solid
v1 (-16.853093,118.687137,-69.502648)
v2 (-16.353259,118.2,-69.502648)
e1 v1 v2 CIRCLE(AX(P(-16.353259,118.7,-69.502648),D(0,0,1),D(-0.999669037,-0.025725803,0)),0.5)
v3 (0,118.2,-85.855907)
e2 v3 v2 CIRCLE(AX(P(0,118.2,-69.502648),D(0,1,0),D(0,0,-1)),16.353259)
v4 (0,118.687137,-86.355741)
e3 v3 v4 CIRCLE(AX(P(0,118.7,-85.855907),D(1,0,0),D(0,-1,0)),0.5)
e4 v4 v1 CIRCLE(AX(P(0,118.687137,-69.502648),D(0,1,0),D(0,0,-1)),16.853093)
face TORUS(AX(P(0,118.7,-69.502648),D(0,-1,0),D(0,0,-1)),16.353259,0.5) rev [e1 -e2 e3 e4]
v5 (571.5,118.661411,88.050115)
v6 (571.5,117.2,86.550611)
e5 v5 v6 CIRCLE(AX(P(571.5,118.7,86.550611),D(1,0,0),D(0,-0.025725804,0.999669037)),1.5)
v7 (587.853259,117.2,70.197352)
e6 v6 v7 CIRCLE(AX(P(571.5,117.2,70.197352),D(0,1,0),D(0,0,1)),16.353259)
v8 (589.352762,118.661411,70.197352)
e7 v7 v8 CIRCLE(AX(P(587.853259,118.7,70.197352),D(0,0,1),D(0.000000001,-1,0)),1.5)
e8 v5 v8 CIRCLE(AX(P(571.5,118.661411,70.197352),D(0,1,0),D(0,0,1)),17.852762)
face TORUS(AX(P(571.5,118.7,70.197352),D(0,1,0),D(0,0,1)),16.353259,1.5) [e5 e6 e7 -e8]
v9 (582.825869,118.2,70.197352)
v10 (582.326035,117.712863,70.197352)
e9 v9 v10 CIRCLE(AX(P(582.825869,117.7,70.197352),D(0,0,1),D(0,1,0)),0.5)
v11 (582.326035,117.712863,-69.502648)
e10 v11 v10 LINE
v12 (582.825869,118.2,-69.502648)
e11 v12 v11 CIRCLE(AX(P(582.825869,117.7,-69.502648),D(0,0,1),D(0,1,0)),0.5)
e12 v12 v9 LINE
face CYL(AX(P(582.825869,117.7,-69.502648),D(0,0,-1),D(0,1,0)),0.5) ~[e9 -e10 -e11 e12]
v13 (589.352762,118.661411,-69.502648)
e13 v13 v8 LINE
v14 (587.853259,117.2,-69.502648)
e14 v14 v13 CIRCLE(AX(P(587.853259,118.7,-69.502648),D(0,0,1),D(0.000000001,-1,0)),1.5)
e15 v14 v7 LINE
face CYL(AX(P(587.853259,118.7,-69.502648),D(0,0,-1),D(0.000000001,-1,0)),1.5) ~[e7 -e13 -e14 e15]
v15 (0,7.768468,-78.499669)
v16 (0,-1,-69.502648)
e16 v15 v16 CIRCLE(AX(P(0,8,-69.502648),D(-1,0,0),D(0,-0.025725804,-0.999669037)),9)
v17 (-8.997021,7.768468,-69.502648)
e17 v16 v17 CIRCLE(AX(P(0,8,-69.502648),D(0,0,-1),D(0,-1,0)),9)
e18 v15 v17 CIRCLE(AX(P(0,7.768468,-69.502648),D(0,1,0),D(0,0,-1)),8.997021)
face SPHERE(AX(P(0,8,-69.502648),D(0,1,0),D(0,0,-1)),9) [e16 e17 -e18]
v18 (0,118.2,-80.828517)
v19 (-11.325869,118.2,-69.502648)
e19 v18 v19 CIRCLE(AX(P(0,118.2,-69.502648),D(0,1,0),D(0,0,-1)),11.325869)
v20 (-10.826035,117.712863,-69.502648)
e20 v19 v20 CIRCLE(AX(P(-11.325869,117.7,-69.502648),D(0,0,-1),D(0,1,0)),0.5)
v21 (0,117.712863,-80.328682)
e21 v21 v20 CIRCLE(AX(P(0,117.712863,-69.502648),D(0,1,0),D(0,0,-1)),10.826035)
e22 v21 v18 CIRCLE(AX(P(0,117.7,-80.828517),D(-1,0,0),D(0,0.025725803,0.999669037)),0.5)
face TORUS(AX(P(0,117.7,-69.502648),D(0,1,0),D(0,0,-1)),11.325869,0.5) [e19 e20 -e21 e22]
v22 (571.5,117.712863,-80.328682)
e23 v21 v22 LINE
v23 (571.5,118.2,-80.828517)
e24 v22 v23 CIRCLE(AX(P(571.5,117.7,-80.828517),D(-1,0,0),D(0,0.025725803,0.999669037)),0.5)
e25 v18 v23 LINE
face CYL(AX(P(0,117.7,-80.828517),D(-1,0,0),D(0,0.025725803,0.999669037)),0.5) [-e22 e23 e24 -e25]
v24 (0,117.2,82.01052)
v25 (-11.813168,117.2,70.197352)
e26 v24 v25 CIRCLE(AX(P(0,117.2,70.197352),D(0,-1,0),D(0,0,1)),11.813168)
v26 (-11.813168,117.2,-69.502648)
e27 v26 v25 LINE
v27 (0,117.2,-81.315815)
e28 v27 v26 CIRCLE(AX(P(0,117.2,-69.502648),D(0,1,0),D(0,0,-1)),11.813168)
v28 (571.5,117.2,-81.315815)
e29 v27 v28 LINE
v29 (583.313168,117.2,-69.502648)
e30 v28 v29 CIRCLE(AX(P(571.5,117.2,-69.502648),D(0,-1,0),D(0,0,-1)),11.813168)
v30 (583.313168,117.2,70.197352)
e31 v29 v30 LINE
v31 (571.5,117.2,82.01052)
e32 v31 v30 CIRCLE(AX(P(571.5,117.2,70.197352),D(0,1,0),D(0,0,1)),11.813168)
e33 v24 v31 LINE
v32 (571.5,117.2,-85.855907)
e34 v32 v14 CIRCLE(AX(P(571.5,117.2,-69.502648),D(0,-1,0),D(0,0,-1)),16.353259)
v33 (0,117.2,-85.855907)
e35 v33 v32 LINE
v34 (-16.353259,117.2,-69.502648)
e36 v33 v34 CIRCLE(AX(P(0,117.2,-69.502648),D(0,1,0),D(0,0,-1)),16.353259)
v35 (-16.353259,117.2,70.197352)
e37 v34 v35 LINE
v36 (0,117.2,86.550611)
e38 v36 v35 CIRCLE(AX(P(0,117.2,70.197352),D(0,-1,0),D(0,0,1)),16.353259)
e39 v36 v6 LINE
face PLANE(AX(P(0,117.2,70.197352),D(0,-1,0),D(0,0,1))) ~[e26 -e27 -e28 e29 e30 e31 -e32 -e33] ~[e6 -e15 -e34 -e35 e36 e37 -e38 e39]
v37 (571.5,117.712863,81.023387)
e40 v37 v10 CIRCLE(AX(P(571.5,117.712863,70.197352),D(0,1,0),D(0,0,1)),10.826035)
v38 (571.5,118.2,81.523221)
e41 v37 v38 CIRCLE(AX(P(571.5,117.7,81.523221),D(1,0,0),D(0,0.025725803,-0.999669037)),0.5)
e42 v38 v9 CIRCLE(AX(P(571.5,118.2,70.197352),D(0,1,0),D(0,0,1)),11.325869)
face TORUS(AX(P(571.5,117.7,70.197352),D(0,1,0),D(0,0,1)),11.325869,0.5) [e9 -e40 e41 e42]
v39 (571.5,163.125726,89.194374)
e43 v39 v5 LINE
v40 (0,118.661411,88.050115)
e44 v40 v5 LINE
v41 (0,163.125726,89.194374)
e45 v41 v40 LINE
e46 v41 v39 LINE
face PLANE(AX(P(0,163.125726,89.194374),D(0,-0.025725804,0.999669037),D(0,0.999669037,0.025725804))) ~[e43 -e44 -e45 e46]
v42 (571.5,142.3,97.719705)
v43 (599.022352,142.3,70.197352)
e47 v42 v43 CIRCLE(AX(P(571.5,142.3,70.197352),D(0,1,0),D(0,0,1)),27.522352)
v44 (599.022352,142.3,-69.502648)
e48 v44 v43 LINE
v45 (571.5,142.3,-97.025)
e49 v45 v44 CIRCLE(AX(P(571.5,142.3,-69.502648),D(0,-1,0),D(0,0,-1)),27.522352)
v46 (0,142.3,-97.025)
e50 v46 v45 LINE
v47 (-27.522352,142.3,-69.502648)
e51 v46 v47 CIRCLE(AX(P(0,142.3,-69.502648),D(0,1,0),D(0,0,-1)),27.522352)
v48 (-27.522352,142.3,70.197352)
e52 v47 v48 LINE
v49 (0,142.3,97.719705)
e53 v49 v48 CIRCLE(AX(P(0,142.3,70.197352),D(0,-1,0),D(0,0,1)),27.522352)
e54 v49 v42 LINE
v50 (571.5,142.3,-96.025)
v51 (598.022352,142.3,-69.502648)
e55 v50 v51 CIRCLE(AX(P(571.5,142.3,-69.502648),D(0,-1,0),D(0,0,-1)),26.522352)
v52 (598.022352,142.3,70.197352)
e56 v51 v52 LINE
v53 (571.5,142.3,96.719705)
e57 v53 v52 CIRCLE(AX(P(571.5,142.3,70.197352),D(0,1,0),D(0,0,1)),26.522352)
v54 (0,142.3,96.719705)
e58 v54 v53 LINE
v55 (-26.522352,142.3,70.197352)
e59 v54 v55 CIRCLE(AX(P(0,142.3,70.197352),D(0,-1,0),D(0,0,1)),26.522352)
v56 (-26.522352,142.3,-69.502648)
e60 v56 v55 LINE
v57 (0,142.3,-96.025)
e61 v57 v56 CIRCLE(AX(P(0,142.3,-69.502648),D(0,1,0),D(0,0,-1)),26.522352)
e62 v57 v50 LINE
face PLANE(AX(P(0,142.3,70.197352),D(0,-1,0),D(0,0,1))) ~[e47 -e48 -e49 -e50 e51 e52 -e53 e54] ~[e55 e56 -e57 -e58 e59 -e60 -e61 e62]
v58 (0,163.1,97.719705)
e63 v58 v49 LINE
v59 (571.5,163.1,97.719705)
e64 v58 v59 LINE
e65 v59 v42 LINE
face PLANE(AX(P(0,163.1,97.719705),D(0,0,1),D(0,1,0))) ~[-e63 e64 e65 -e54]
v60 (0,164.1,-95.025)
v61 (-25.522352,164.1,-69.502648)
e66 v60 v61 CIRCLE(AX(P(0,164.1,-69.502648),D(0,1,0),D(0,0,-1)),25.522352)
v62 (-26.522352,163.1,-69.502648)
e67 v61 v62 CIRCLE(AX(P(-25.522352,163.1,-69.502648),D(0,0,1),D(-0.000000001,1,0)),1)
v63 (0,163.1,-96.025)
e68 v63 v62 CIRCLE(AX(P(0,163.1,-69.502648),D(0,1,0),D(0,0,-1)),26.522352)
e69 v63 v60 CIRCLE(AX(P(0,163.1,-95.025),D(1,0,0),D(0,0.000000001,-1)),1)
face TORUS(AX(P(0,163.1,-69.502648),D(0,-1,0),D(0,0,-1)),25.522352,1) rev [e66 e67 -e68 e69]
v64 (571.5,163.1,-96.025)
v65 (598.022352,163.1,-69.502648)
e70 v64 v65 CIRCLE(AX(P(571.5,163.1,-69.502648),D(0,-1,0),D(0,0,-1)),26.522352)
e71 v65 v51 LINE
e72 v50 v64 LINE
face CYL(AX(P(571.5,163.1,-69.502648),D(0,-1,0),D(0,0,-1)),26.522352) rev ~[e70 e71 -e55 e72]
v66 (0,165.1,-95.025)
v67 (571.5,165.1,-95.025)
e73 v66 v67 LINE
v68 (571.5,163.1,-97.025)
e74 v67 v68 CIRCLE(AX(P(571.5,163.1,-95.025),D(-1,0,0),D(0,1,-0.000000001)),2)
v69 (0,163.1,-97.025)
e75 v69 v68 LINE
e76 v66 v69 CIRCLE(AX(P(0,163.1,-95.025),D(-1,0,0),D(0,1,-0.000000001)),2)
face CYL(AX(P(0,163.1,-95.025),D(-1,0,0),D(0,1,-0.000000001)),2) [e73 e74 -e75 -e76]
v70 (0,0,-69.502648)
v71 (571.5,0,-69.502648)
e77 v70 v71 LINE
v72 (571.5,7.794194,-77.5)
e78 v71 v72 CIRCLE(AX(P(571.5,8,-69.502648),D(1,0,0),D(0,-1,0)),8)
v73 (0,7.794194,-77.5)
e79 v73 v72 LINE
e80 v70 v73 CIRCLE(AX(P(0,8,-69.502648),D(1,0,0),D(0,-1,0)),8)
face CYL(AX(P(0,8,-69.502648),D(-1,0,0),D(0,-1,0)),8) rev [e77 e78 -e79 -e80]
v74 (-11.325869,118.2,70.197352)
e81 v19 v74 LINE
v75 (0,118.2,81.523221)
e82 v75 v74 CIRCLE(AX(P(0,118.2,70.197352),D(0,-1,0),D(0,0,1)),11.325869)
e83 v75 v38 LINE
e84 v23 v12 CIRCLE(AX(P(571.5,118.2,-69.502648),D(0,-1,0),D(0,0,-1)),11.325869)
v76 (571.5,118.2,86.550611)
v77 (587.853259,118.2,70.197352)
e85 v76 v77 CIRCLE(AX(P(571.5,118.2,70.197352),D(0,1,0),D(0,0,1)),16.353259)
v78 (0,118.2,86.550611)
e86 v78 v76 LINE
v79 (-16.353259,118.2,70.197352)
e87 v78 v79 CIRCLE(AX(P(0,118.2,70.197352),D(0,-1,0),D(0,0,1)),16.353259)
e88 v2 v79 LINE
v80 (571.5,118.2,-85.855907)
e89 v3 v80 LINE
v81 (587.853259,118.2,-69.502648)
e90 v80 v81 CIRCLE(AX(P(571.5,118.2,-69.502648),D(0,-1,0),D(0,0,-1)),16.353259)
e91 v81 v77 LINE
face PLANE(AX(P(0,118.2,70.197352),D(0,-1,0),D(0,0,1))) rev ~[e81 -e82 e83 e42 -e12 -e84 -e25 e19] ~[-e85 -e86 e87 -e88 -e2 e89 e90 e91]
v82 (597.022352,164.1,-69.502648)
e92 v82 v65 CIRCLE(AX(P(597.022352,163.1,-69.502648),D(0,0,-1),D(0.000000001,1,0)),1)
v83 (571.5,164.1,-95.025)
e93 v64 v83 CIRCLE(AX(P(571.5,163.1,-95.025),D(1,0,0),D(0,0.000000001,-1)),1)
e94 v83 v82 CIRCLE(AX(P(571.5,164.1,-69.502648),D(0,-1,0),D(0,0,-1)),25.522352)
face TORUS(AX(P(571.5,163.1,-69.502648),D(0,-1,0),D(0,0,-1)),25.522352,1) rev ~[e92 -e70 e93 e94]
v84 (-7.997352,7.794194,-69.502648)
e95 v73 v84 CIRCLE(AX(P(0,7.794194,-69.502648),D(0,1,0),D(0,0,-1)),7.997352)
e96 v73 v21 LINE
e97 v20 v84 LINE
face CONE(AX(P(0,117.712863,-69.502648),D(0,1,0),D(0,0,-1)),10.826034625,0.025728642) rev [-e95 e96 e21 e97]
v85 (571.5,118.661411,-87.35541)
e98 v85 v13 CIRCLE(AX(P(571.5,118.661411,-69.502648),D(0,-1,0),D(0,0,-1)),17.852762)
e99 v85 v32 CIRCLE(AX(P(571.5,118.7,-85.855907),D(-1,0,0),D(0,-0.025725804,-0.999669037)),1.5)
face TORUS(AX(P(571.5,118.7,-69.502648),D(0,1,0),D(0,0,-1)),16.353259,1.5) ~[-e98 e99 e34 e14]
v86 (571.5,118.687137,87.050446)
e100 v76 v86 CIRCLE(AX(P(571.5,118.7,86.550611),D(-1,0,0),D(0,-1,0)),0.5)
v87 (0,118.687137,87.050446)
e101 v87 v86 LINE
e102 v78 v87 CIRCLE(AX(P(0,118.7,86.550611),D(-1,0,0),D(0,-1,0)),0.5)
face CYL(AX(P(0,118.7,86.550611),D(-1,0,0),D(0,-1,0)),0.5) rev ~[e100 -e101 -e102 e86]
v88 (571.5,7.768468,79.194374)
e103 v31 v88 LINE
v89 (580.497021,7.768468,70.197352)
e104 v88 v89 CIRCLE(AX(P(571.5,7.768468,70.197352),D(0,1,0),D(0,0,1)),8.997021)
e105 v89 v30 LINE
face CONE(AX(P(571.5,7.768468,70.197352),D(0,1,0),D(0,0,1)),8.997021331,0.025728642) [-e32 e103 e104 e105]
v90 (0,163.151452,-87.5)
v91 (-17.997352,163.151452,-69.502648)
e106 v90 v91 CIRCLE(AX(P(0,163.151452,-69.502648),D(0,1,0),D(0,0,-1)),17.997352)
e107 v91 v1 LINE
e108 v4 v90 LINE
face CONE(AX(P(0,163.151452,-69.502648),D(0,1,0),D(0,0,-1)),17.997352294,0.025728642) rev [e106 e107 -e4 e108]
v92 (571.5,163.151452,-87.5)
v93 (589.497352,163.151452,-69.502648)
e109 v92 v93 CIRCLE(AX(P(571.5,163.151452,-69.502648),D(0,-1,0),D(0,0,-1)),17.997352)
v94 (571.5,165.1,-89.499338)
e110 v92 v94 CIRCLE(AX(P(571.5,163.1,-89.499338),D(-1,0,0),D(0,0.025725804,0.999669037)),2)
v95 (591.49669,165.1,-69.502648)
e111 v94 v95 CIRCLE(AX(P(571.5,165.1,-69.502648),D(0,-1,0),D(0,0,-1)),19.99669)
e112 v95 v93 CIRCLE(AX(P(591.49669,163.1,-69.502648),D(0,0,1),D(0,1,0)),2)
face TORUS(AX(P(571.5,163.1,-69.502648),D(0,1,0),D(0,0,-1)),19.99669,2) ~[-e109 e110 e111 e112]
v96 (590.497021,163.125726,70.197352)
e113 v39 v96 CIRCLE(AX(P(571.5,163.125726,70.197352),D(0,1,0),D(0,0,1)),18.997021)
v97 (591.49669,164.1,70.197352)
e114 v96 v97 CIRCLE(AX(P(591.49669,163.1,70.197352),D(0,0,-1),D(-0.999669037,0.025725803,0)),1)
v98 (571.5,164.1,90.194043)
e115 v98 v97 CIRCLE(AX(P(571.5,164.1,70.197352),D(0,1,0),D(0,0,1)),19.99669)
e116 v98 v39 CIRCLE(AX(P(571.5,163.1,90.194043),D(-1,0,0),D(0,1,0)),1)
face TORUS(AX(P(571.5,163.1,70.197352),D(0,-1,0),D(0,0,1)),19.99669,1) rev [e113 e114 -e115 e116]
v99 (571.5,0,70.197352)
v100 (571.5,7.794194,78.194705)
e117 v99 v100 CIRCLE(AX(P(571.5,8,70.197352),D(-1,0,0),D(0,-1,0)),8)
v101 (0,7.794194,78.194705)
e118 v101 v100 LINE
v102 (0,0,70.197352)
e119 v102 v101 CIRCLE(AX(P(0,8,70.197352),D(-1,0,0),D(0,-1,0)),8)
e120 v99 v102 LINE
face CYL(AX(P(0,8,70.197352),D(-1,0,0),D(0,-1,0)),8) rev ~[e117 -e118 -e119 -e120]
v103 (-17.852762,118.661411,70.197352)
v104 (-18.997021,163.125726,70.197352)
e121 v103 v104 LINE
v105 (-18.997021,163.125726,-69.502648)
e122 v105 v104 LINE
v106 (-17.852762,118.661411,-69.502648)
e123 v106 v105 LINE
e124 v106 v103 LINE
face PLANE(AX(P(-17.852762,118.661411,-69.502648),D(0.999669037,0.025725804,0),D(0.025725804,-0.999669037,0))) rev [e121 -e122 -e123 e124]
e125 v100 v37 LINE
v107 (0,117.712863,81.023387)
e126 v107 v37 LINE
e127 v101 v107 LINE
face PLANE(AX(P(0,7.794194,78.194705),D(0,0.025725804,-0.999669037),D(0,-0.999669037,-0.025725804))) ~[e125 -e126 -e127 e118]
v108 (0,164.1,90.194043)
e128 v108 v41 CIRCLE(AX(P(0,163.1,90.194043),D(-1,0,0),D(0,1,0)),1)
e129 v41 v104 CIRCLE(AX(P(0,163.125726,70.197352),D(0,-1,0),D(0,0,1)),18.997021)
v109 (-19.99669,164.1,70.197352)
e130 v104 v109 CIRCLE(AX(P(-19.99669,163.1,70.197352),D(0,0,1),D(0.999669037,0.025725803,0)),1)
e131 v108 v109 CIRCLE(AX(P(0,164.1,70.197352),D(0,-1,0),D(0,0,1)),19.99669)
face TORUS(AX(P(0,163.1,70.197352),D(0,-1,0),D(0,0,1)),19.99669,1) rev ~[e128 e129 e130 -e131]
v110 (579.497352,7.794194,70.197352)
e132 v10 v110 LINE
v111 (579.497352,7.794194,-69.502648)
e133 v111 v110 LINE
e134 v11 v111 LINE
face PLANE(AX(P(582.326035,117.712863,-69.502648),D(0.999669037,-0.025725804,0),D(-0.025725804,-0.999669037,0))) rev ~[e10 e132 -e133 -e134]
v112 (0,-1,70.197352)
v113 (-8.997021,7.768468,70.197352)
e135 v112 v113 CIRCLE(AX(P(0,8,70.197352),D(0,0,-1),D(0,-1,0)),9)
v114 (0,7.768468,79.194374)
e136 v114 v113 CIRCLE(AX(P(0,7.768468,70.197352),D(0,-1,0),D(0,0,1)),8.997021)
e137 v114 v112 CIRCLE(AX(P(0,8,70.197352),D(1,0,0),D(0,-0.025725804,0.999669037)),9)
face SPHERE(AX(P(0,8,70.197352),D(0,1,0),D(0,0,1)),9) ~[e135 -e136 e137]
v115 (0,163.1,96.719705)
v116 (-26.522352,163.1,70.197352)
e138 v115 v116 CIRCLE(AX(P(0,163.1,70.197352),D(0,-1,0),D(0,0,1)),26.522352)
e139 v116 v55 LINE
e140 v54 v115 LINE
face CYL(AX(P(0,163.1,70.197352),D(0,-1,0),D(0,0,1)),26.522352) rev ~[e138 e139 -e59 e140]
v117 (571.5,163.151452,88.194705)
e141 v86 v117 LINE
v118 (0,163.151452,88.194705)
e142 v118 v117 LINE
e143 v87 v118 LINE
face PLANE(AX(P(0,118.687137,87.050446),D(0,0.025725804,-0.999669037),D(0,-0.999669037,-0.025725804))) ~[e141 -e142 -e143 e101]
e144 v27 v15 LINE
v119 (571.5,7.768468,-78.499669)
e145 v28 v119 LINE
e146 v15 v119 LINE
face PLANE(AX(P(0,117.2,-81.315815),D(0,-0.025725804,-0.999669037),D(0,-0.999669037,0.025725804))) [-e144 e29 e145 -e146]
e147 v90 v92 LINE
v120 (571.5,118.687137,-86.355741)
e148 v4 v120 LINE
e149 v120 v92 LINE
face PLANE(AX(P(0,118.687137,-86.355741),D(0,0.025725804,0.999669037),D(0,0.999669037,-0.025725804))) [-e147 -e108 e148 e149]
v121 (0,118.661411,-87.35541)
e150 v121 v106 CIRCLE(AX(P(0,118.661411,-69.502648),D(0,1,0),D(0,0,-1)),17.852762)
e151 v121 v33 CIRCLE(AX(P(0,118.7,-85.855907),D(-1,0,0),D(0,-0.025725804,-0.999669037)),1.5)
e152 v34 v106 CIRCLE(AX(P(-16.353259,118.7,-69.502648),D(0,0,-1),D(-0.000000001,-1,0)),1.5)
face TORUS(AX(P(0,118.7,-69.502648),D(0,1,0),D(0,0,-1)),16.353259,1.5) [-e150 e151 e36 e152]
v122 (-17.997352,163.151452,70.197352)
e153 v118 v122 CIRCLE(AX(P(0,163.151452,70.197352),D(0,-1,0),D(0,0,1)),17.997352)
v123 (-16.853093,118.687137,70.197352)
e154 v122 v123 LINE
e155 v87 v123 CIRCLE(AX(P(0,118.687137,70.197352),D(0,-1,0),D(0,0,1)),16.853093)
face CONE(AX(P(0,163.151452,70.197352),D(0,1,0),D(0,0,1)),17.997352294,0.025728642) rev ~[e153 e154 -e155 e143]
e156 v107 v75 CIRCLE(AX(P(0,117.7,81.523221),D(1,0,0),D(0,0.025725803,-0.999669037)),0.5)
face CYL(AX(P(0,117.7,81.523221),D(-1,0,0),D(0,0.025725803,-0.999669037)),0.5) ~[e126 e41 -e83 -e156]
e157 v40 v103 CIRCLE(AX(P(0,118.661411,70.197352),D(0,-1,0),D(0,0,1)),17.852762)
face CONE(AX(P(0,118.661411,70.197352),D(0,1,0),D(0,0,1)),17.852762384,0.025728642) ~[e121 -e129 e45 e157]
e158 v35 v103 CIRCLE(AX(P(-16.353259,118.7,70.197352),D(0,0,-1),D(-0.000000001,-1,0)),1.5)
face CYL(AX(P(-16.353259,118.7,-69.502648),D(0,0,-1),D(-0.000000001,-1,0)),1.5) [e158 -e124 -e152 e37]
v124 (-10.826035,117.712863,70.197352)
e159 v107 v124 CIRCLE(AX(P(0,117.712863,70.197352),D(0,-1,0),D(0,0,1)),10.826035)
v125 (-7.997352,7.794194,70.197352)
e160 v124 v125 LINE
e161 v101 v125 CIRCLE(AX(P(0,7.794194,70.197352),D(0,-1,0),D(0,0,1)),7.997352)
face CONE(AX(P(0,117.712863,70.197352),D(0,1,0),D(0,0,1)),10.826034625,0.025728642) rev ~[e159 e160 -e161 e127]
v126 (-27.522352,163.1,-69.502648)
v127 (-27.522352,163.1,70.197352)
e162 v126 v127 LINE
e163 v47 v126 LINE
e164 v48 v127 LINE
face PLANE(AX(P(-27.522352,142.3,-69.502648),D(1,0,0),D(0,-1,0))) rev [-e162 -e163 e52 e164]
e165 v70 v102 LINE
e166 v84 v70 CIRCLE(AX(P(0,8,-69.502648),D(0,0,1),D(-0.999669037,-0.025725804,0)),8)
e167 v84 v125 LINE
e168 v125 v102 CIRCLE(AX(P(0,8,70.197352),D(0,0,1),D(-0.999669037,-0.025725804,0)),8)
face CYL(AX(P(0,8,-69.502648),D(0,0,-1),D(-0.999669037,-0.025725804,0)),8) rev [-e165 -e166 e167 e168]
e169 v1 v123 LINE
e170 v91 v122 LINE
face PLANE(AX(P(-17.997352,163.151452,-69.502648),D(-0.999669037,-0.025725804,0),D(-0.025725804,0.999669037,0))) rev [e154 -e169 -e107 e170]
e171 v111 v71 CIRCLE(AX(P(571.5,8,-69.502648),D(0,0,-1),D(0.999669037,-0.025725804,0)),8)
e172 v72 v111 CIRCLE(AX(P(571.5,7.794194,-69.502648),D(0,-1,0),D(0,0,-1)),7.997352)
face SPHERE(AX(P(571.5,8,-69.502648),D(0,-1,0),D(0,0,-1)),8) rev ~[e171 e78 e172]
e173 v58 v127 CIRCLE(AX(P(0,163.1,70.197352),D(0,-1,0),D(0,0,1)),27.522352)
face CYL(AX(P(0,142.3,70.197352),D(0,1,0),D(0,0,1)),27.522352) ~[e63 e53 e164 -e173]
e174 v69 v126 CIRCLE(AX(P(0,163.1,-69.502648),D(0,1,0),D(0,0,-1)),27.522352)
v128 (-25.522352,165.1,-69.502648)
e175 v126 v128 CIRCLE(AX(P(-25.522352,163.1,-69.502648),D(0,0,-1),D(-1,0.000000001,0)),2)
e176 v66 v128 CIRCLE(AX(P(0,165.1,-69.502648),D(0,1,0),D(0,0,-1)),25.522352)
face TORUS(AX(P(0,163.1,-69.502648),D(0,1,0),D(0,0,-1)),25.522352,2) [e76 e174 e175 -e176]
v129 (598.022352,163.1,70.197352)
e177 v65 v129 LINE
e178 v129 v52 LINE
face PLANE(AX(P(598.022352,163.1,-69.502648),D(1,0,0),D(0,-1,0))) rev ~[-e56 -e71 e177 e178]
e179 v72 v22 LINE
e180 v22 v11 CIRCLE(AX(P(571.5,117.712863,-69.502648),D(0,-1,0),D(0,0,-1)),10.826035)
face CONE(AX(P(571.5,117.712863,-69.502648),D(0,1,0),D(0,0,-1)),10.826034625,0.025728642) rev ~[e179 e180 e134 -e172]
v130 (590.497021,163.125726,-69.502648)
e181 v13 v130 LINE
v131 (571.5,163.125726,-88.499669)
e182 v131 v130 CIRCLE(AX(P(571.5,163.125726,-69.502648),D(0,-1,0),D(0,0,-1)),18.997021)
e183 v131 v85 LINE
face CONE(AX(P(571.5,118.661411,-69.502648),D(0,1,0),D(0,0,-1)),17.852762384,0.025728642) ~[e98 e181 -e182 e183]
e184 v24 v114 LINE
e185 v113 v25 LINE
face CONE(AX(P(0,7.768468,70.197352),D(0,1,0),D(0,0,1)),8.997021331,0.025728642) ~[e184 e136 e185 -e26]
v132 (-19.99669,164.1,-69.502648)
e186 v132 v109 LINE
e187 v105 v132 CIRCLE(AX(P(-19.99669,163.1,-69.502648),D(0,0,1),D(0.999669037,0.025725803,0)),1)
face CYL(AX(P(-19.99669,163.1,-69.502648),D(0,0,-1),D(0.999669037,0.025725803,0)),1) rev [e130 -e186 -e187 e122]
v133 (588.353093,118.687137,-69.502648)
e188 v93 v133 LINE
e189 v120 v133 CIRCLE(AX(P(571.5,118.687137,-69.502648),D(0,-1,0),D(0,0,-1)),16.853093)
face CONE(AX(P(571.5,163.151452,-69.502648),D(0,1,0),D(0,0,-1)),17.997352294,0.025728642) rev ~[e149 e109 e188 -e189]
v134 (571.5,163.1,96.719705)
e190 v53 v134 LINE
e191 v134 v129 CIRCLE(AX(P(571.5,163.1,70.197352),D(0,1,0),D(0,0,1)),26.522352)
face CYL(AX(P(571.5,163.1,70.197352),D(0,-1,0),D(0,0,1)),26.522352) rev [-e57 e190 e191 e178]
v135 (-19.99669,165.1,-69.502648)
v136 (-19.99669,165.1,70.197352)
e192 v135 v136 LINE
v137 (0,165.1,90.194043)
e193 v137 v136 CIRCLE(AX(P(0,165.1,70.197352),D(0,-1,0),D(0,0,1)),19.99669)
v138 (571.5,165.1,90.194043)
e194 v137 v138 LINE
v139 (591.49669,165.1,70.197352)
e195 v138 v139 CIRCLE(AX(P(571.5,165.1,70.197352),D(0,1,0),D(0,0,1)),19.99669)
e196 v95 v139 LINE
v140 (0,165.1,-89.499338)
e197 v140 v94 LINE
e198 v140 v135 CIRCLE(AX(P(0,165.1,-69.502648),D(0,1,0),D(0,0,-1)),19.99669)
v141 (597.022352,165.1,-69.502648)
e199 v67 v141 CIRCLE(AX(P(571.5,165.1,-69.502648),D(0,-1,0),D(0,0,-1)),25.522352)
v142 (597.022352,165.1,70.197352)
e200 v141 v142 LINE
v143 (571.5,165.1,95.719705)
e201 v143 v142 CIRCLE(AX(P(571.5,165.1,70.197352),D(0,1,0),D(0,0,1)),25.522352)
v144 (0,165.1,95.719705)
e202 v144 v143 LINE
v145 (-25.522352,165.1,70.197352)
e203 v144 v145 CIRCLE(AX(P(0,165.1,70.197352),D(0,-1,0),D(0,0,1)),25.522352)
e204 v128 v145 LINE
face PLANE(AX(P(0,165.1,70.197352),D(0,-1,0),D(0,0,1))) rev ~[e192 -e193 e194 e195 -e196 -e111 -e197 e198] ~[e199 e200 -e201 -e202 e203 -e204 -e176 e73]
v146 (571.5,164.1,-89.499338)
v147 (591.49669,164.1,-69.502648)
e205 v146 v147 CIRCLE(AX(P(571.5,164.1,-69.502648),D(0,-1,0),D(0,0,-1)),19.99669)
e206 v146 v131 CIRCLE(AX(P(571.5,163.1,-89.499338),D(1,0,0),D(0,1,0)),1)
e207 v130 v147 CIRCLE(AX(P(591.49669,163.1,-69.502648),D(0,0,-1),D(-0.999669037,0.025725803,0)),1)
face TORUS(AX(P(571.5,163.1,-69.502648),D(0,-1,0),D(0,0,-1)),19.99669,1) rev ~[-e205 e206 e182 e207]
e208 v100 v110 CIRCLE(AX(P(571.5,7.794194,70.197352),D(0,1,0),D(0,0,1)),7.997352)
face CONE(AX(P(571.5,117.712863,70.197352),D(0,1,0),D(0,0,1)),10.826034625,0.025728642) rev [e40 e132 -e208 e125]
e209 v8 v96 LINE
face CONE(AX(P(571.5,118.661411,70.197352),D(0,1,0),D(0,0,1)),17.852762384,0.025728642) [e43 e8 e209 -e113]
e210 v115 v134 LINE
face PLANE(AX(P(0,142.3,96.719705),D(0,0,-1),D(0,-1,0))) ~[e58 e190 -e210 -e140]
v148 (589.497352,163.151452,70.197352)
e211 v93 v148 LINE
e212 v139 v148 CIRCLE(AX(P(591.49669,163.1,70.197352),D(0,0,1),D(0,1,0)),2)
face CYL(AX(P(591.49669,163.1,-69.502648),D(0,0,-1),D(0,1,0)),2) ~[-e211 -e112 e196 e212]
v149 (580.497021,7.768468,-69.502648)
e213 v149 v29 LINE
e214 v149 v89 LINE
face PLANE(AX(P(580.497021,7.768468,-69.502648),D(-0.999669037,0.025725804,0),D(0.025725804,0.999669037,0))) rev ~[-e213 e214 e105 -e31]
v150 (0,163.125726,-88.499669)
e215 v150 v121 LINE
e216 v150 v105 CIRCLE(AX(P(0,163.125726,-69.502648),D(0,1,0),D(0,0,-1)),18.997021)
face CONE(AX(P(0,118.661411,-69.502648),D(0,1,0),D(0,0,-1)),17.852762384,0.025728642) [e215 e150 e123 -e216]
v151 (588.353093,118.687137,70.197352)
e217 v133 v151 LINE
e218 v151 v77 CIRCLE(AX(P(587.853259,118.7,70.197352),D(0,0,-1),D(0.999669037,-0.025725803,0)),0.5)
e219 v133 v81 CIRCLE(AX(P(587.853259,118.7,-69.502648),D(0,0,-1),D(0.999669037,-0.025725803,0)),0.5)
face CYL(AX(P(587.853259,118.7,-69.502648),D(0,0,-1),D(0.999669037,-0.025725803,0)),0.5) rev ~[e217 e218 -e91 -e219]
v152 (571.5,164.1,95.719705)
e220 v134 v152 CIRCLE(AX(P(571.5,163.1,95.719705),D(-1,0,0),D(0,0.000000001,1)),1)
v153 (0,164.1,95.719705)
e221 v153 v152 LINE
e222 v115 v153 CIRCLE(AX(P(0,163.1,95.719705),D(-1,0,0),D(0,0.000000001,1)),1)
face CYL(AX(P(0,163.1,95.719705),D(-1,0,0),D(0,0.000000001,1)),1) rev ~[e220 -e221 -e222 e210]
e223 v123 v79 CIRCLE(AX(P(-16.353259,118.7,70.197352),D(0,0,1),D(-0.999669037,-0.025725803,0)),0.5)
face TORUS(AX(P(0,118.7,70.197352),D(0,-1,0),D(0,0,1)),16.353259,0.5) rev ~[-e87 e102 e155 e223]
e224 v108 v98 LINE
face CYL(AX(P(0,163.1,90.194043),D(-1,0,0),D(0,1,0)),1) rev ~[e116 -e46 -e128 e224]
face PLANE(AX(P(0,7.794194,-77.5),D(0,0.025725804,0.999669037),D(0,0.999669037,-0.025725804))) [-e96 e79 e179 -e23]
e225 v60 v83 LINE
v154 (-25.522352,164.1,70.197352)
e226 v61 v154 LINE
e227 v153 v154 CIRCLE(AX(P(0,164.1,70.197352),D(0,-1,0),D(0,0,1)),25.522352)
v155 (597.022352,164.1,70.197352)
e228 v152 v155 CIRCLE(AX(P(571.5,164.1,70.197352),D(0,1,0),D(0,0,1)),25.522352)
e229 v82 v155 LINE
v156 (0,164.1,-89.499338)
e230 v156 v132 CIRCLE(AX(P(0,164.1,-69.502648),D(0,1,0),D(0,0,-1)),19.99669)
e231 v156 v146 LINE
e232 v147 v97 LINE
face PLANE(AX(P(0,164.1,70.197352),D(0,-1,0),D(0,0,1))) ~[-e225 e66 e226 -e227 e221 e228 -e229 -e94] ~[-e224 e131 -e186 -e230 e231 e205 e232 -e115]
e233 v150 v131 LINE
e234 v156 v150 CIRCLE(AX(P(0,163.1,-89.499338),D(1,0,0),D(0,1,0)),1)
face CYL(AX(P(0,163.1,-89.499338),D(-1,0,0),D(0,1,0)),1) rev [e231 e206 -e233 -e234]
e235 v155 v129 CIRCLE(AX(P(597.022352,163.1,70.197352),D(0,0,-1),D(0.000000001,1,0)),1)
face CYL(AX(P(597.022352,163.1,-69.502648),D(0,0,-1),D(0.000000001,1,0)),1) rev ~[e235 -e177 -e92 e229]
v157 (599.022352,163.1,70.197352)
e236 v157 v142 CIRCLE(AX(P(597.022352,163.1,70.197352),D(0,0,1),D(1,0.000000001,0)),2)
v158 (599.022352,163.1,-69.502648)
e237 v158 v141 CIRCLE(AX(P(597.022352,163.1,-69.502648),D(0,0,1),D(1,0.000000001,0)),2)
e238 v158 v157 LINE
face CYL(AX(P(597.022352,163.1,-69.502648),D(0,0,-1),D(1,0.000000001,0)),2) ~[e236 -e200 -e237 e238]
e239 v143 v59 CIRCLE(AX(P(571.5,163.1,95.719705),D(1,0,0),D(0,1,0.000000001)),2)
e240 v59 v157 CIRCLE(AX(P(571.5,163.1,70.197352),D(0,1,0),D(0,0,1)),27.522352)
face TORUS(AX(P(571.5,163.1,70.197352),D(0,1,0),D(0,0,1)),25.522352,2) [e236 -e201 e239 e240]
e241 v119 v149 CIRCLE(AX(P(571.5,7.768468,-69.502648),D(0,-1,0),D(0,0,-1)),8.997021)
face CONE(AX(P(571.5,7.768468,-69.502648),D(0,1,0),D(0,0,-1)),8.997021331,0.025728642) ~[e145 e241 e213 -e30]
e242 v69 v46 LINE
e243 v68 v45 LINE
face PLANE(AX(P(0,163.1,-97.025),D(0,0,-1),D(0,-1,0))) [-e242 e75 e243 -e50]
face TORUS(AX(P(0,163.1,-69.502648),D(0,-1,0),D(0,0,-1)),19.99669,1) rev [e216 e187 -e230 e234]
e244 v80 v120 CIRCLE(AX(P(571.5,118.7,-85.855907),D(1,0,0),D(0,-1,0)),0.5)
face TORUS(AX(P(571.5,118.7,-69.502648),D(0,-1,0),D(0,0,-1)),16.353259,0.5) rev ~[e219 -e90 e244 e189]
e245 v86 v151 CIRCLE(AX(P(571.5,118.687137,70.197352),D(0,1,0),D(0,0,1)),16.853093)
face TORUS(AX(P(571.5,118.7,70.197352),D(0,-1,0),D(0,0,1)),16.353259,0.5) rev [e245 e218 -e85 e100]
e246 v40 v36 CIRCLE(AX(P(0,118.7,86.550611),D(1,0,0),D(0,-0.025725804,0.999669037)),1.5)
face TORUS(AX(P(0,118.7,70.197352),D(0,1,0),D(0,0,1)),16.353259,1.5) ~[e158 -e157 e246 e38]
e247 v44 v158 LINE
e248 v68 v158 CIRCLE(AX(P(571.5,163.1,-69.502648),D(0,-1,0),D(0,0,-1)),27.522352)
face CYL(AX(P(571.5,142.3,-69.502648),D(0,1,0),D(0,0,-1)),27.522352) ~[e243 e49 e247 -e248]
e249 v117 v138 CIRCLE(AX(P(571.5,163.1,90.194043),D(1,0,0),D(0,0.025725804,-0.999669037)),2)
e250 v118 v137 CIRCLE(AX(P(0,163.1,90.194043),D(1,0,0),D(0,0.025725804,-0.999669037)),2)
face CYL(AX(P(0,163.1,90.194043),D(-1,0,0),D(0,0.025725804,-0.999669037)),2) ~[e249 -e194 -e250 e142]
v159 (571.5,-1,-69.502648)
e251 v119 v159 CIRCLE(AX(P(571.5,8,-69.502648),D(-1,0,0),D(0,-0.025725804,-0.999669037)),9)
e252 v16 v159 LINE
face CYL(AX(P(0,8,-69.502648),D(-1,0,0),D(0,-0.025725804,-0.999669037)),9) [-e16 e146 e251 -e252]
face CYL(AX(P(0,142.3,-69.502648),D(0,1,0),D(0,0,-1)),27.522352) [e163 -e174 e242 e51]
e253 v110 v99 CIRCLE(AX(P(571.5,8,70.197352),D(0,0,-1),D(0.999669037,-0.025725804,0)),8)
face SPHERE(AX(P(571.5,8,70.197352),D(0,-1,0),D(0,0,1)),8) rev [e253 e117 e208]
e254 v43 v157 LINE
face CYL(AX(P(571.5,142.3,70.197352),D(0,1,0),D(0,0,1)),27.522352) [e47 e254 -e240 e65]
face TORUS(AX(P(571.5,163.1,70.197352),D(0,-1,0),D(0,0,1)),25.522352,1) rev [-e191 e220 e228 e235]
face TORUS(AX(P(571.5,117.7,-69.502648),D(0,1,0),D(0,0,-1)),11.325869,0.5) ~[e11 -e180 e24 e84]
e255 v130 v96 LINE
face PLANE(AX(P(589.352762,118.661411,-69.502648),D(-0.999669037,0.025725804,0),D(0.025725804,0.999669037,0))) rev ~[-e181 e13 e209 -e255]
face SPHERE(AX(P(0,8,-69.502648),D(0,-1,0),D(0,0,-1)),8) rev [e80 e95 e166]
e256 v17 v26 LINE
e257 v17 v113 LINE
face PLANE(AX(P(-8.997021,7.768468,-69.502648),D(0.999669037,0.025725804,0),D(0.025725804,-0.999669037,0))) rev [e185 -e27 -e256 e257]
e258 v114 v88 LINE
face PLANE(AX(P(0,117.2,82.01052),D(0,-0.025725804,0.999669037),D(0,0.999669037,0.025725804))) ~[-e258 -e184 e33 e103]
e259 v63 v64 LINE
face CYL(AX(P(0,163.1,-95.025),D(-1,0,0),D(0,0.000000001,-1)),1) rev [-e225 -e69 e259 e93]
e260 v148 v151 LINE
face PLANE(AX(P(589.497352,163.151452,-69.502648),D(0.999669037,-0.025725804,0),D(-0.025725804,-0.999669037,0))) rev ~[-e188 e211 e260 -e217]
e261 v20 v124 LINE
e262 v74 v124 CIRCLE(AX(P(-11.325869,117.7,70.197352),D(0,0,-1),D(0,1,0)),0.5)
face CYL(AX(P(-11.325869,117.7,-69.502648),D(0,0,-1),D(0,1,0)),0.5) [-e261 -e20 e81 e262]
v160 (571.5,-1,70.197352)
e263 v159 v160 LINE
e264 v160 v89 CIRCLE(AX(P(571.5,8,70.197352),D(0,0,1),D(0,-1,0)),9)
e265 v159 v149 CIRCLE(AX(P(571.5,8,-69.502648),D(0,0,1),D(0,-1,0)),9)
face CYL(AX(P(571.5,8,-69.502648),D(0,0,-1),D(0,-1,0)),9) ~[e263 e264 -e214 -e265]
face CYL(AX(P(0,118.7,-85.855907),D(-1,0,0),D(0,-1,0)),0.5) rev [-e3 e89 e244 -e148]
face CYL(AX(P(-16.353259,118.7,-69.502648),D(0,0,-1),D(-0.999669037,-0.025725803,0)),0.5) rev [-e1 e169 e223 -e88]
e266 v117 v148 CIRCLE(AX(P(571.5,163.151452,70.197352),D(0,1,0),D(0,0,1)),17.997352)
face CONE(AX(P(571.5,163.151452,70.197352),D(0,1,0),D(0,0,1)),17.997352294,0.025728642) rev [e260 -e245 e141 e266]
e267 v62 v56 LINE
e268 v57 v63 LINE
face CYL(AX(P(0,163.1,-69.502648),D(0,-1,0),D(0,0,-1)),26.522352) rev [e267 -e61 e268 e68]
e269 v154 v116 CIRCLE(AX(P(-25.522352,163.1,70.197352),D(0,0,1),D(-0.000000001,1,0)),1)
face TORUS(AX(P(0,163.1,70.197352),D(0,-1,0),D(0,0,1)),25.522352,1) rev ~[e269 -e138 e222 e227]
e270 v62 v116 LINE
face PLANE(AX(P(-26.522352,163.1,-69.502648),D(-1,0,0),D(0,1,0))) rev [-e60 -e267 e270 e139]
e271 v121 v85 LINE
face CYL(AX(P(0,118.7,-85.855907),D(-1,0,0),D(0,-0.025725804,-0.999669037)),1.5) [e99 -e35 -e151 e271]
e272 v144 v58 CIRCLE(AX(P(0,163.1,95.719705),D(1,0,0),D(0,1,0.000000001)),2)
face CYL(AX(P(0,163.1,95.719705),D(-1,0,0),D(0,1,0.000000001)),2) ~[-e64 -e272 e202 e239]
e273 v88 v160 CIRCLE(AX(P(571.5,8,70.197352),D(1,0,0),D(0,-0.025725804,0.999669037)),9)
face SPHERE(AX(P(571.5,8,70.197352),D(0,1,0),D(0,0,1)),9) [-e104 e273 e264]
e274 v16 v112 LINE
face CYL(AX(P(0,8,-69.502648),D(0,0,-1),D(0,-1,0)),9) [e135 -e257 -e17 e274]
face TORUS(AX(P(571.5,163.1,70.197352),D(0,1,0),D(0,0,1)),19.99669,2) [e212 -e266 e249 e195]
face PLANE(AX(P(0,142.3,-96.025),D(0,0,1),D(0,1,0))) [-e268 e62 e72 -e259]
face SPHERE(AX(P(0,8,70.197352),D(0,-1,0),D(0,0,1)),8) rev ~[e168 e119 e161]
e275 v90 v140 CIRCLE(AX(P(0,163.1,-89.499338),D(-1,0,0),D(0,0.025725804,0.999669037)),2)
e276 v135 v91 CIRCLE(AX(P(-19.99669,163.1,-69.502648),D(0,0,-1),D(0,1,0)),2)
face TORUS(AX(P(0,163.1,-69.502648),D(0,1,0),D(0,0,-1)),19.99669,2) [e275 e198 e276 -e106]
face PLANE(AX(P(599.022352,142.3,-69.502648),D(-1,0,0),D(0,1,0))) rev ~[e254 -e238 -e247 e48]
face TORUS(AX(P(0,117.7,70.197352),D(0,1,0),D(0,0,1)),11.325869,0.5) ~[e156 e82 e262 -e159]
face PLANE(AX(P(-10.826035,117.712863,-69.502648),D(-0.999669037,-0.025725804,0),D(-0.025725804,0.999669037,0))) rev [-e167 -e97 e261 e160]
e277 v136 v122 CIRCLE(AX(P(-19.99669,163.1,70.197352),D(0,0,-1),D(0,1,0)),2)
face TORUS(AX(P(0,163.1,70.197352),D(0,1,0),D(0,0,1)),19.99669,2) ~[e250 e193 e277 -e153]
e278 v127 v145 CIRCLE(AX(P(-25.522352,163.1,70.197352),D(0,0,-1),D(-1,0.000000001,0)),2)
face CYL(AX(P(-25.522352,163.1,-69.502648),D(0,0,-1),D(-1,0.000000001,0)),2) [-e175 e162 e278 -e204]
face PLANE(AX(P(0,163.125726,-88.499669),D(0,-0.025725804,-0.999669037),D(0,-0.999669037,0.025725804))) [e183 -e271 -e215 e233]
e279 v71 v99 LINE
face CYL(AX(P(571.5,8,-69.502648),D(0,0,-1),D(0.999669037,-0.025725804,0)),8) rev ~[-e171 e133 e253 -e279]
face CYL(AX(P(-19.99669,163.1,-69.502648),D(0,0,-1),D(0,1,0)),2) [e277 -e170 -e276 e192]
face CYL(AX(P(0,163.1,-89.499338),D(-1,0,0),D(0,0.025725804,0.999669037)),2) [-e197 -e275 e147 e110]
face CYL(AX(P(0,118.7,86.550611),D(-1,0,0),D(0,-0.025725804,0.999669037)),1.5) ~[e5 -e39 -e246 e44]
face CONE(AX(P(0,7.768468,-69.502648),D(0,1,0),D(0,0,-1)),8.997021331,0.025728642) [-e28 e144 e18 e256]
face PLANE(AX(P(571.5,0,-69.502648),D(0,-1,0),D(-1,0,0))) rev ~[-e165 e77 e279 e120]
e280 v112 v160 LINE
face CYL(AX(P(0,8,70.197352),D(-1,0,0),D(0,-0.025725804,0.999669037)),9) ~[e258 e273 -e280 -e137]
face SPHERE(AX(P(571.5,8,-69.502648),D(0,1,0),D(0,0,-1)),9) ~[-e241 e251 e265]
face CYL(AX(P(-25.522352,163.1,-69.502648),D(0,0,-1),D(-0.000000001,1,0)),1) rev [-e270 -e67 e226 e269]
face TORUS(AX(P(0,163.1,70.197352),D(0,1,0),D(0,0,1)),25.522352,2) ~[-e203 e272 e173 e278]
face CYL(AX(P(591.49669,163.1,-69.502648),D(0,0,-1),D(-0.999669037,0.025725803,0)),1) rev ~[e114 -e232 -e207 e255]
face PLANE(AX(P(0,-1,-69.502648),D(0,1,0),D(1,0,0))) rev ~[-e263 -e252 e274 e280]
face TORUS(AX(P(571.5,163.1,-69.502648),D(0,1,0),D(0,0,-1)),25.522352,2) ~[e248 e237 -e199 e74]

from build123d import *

# Parameters (mm, degrees)
EXTRUDE_THIN1_DEPTH  = 571.5
REVOLVE1_ANGLE       = 90
BOSS_EXTRUDE1_DEPTH  = 139.7
MIRROR2_COPY_1_ANGLE = 90
MIRROR2_COPY_2_DEPTH = 139.7
MIRROR2_COPY_3_DEPTH = 139.7


with BuildPart() as part:
    # Sketch1 → Extrude-Thin1 (new body)
    with BuildSketch(Plane(origin=(0, 0, 0), x_dir=(0, 0, -1), z_dir=(1, 0, 0))):
        with BuildLine():
            ThreePointArc((69.502647706, 0), (75.0862643, 2.27084424), (77.5, 7.794193568))
            Line((77.5, 7.794193568), (80.328682331, 117.712862902))
            ThreePointArc((80.328682331, 117.712862902), (80.479540812, 118.058072235), (80.828516849, 118.2))
            Line((80.828516849, 118.2), (85.855906535, 118.2))
            ThreePointArc((85.855906535, 118.2), (86.204882572, 118.341927765), (86.355741053, 118.687137098))
            Line((86.355741053, 118.687137098), (87.5, 163.151451608))
            ThreePointArc((87.5, 163.151451608), (88.103433925, 164.53228894), (89.499338073, 165.1))
            Line((89.499338073, 165.1), (95.025, 165.1))
            ThreePointArc((95.025, 165.1), (96.439213562, 164.514213562), (97.025, 163.1))
            Line((97.025, 163.1), (97.025, 142.3))
            Line((97.025, 142.3), (96.025, 142.3))
            Line((96.025, 142.3), (96.025, 163.1))
            ThreePointArc((96.025, 163.1), (95.732106781, 163.807106781), (95.025, 164.1))
            Line((95.025, 164.1), (89.499338073, 164.1))
            ThreePointArc((89.499338073, 164.1), (88.801385999, 163.81614447), (88.499669037, 163.125725804))
            Line((88.499669037, 163.125725804), (87.35541009, 118.661411294))
            ThreePointArc((87.35541009, 118.661411294), (86.902834646, 117.625783295), (85.855906535, 117.2))
            Line((85.855906535, 117.2), (81.315815225, 117.2))
            Line((81.315815225, 117.2), (78.499669037, 7.768467764))
            ThreePointArc((78.499669037, 7.768467764), (75.784216375, 1.55469977), (69.502647706, -1))
            Line((69.502647706, -1), (69.502647706, 0))
        make_face()
    extrude_thin1 = extrude(amount=EXTRUDE_THIN1_DEPTH)

    # Sketch4 → Revolve1 (revolve)
    with BuildSketch(Plane(origin=(571.5, 0, 0), x_dir=(0, 0, -1), z_dir=(1, 0, 0))):
        with BuildLine():
            Line((96.025, 163.1), (96.025, 142.3))
            Line((96.025, 142.3), (97.025, 142.3))
            Line((97.025, 142.3), (97.025, 163.1))
            ThreePointArc((97.025, 163.1), (96.439213562, 164.514213562), (95.025, 165.1))
            Line((95.025, 165.1), (89.499338073, 165.1))
            ThreePointArc((89.499338073, 165.1), (88.103433925, 164.53228894), (87.5, 163.151451608))
            Line((87.5, 163.151451608), (86.355741053, 118.687137098))
            ThreePointArc((86.355741053, 118.687137098), (86.204882572, 118.341927765), (85.855906535, 118.2))
            Line((85.855906535, 118.2), (80.828516849, 118.2))
            ThreePointArc((80.828516849, 118.2), (80.479540812, 118.058072235), (80.328682331, 117.712862902))
            Line((80.328682331, 117.712862902), (77.5, 7.794193568))
            ThreePointArc((77.5, 7.794193568), (75.0862643, 2.27084424), (69.502647706, 0))
            Line((69.502647706, 0), (69.502647706, -1))
            ThreePointArc((69.502647706, -1), (75.784216375, 1.55469977), (78.499669037, 7.768467764))
            Line((78.499669037, 7.768467764), (81.315815225, 117.2))
            Line((81.315815225, 117.2), (85.855906535, 117.2))
            ThreePointArc((85.855906535, 117.2), (86.902834646, 117.625783295), (87.35541009, 118.661411294))
            Line((87.35541009, 118.661411294), (88.499669037, 163.125725804))
            ThreePointArc((88.499669037, 163.125725804), (88.801385999, 163.81614447), (89.499338073, 164.1))
            Line((89.499338073, 164.1), (95.025, 164.1))
            ThreePointArc((95.025, 164.1), (95.732106781, 163.807106781), (96.025, 163.1))
        make_face()
    revolve1 = revolve(axis=Axis((571.5, -1, -69.502647706), (0, -1, 0)), revolution_arc=REVOLVE1_ANGLE)

    # Sketch5 → Boss-Extrude1 (add)
    with BuildSketch(Plane.XY.offset(-69.502647706)):
        with BuildLine():
            Line((0, 0), (0, -1))
            Line((0, -1), (571.5, -1))
            ThreePointArc((571.5, -1), (577.781568669, 1.55469977), (580.497021331, 7.768467764))
            Line((580.497021331, 7.768467764), (583.313167519, 117.2))
            Line((583.313167519, 117.2), (587.853258829, 117.2))
            ThreePointArc((587.853258829, 117.2), (588.90018694, 117.625783295), (589.352762384, 118.661411294))
            Line((589.352762384, 118.661411294), (590.497021331, 163.125725804))
            ThreePointArc((590.497021331, 163.125725804), (590.798738293, 163.81614447), (591.496690367, 164.1))
            Line((591.496690367, 164.1), (597.022352294, 164.1))
            ThreePointArc((597.022352294, 164.1), (597.729459075, 163.807106781), (598.022352294, 163.1))
            Line((598.022352294, 163.1), (598.022352294, 142.3))
            Line((598.022352294, 142.3), (599.022352294, 142.3))
            Line((599.022352294, 142.3), (599.022352294, 163.1))
            ThreePointArc((599.022352294, 163.1), (598.436565856, 164.514213562), (597.022352294, 165.1))
            Line((597.022352294, 165.1), (591.496690367, 165.1))
            ThreePointArc((591.496690367, 165.1), (590.100786219, 164.53228894), (589.497352294, 163.151451608))
            Line((589.497352294, 163.151451608), (588.353093347, 118.687137098))
            ThreePointArc((588.353093347, 118.687137098), (588.202234866, 118.341927765), (587.853258829, 118.2))
            Line((587.853258829, 118.2), (582.825869143, 118.2))
            ThreePointArc((582.825869143, 118.2), (582.476893106, 118.058072235), (582.326034625, 117.712862902))
            Line((582.326034625, 117.712862902), (579.497352294, 7.794193568))
            ThreePointArc((579.497352294, 7.794193568), (577.083616594, 2.27084424), (571.5, 0))
            Line((571.5, 0), (0, 0))
        make_face()
    boss_extrude1 = extrude(amount=BOSS_EXTRUDE1_DEPTH)

    # Mirror1: Revolve1, Boss-Extrude1 across plane
    add(revolve1.mirror(Plane(origin=(285.75, 0, 0), x_dir=(0, 0, 1), z_dir=(1, 0, 0))))
    add(boss_extrude1.mirror(Plane(origin=(285.75, 0, 0), x_dir=(0, 0, 1), z_dir=(1, 0, 0))))

    # Mirror2: Extrude-Thin1, Revolve1 across plane
    add(extrude_thin1.mirror(Plane.XY.offset(0.347352294)))
    add(revolve1.mirror(Plane.XY.offset(0.347352294)))

    # Mirror2 copy 1 sketch → Mirror2 copy 1 (revolve)
    with BuildSketch(Plane(origin=(0, 0, 0.694704588), x_dir=(0, 0, 1), z_dir=(-1, 0, 0))):
        with BuildLine():
            Line((96.025, 163.1), (96.025, 142.3))
            Line((96.025, 142.3), (97.025, 142.3))
            Line((97.025, 142.3), (97.025, 163.1))
            ThreePointArc((97.025, 163.1), (96.439213562, 164.514213562), (95.025, 165.1))
            Line((95.025, 165.1), (89.499338073, 165.1))
            ThreePointArc((89.499338073, 165.1), (88.103433925, 164.53228894), (87.5, 163.151451608))
            Line((87.5, 163.151451608), (86.355741053, 118.687137098))
            ThreePointArc((86.355741053, 118.687137098), (86.204882572, 118.341927765), (85.855906535, 118.2))
            Line((85.855906535, 118.2), (80.828516849, 118.2))
            ThreePointArc((80.828516849, 118.2), (80.479540812, 118.058072235), (80.328682331, 117.712862902))
            Line((80.328682331, 117.712862902), (77.5, 7.794193568))
            ThreePointArc((77.5, 7.794193568), (75.0862643, 2.27084424), (69.502647706, 0))
            Line((69.502647706, 0), (69.502647706, -1))
            ThreePointArc((69.502647706, -1), (75.784216375, 1.55469977), (78.499669037, 7.768467764))
            Line((78.499669037, 7.768467764), (81.315815225, 117.2))
            Line((81.315815225, 117.2), (85.855906535, 117.2))
            ThreePointArc((85.855906535, 117.2), (86.902834646, 117.625783295), (87.35541009, 118.661411294))
            Line((87.35541009, 118.661411294), (88.499669037, 163.125725804))
            ThreePointArc((88.499669037, 163.125725804), (88.801385999, 163.81614447), (89.499338073, 164.1))
            Line((89.499338073, 164.1), (95.025, 164.1))
            ThreePointArc((95.025, 164.1), (95.732106781, 163.807106781), (96.025, 163.1))
        make_face()
    revolve(axis=Axis((0, -1, 70.197352294), (0, -1, 0)), revolution_arc=MIRROR2_COPY_1_ANGLE)

    # Mirror2 copy 2 sketch → Mirror2 copy 2 (add)
    with BuildSketch(Plane(origin=(571.5, 0, 70.197352294), x_dir=(-1, 0, 0), z_dir=(0, 0, -1))):
        with BuildLine():
            Line((0, 0), (0, -1))
            Line((0, -1), (571.5, -1))
            ThreePointArc((571.5, -1), (577.781568669, 1.55469977), (580.497021331, 7.768467764))
            Line((580.497021331, 7.768467764), (583.313167519, 117.2))
            Line((583.313167519, 117.2), (587.853258829, 117.2))
            ThreePointArc((587.853258829, 117.2), (588.90018694, 117.625783295), (589.352762384, 118.661411294))
            Line((589.352762384, 118.661411294), (590.497021331, 163.125725804))
            ThreePointArc((590.497021331, 163.125725804), (590.798738293, 163.81614447), (591.496690367, 164.1))
            Line((591.496690367, 164.1), (597.022352294, 164.1))
            ThreePointArc((597.022352294, 164.1), (597.729459075, 163.807106781), (598.022352294, 163.1))
            Line((598.022352294, 163.1), (598.022352294, 142.3))
            Line((598.022352294, 142.3), (599.022352294, 142.3))
            Line((599.022352294, 142.3), (599.022352294, 163.1))
            ThreePointArc((599.022352294, 163.1), (598.436565856, 164.514213562), (597.022352294, 165.1))
            Line((597.022352294, 165.1), (591.496690367, 165.1))
            ThreePointArc((591.496690367, 165.1), (590.100786219, 164.53228894), (589.497352294, 163.151451608))
            Line((589.497352294, 163.151451608), (588.353093347, 118.687137098))
            ThreePointArc((588.353093347, 118.687137098), (588.202234866, 118.341927765), (587.853258829, 118.2))
            Line((587.853258829, 118.2), (582.825869143, 118.2))
            ThreePointArc((582.825869143, 118.2), (582.476893106, 118.058072235), (582.326034625, 117.712862902))
            Line((582.326034625, 117.712862902), (579.497352294, 7.794193568))
            ThreePointArc((579.497352294, 7.794193568), (577.083616594, 2.27084424), (571.5, 0))
            Line((571.5, 0), (0, 0))
        make_face()
    extrude(amount=MIRROR2_COPY_2_DEPTH)

    # Mirror2 copy 3 sketch → Mirror2 copy 3 (add)
    with BuildSketch(Plane(origin=(0, 0, 70.197352294), x_dir=(1, 0, 0), z_dir=(0, 0, -1))):
        with BuildLine():
            Line((0, 0), (0, 1))
            Line((0, 1), (571.5, 1))
            ThreePointArc((571.5, 1), (577.781568669, -1.55469977), (580.497021331, -7.768467764))
            Line((580.497021331, -7.768467764), (583.313167519, -117.2))
            Line((583.313167519, -117.2), (587.853258829, -117.2))
            ThreePointArc((587.853258829, -117.2), (588.90018694, -117.625783295), (589.352762384, -118.661411294))
            Line((589.352762384, -118.661411294), (590.497021331, -163.125725804))
            ThreePointArc((590.497021331, -163.125725804), (590.798738293, -163.81614447), (591.496690367, -164.1))
            Line((591.496690367, -164.1), (597.022352294, -164.1))
            ThreePointArc((597.022352294, -164.1), (597.729459075, -163.807106781), (598.022352294, -163.1))
            Line((598.022352294, -163.1), (598.022352294, -142.3))
            Line((598.022352294, -142.3), (599.022352294, -142.3))
            Line((599.022352294, -142.3), (599.022352294, -163.1))
            ThreePointArc((599.022352294, -163.1), (598.436565856, -164.514213562), (597.022352294, -165.1))
            Line((597.022352294, -165.1), (591.496690367, -165.1))
            ThreePointArc((591.496690367, -165.1), (590.100786219, -164.53228894), (589.497352294, -163.151451608))
            Line((589.497352294, -163.151451608), (588.353093347, -118.687137098))
            ThreePointArc((588.353093347, -118.687137098), (588.202234866, -118.341927765), (587.853258829, -118.2))
            Line((587.853258829, -118.2), (582.825869143, -118.2))
            ThreePointArc((582.825869143, -118.2), (582.476893106, -118.058072235), (582.326034625, -117.712862902))
            Line((582.326034625, -117.712862902), (579.497352294, -7.794193568))
            ThreePointArc((579.497352294, -7.794193568), (577.083616594, -2.27084424), (571.5, 0))
            Line((571.5, 0), (0, 0))
        make_face()
    extrude(amount=MIRROR2_COPY_3_DEPTH)


solid = part.part
